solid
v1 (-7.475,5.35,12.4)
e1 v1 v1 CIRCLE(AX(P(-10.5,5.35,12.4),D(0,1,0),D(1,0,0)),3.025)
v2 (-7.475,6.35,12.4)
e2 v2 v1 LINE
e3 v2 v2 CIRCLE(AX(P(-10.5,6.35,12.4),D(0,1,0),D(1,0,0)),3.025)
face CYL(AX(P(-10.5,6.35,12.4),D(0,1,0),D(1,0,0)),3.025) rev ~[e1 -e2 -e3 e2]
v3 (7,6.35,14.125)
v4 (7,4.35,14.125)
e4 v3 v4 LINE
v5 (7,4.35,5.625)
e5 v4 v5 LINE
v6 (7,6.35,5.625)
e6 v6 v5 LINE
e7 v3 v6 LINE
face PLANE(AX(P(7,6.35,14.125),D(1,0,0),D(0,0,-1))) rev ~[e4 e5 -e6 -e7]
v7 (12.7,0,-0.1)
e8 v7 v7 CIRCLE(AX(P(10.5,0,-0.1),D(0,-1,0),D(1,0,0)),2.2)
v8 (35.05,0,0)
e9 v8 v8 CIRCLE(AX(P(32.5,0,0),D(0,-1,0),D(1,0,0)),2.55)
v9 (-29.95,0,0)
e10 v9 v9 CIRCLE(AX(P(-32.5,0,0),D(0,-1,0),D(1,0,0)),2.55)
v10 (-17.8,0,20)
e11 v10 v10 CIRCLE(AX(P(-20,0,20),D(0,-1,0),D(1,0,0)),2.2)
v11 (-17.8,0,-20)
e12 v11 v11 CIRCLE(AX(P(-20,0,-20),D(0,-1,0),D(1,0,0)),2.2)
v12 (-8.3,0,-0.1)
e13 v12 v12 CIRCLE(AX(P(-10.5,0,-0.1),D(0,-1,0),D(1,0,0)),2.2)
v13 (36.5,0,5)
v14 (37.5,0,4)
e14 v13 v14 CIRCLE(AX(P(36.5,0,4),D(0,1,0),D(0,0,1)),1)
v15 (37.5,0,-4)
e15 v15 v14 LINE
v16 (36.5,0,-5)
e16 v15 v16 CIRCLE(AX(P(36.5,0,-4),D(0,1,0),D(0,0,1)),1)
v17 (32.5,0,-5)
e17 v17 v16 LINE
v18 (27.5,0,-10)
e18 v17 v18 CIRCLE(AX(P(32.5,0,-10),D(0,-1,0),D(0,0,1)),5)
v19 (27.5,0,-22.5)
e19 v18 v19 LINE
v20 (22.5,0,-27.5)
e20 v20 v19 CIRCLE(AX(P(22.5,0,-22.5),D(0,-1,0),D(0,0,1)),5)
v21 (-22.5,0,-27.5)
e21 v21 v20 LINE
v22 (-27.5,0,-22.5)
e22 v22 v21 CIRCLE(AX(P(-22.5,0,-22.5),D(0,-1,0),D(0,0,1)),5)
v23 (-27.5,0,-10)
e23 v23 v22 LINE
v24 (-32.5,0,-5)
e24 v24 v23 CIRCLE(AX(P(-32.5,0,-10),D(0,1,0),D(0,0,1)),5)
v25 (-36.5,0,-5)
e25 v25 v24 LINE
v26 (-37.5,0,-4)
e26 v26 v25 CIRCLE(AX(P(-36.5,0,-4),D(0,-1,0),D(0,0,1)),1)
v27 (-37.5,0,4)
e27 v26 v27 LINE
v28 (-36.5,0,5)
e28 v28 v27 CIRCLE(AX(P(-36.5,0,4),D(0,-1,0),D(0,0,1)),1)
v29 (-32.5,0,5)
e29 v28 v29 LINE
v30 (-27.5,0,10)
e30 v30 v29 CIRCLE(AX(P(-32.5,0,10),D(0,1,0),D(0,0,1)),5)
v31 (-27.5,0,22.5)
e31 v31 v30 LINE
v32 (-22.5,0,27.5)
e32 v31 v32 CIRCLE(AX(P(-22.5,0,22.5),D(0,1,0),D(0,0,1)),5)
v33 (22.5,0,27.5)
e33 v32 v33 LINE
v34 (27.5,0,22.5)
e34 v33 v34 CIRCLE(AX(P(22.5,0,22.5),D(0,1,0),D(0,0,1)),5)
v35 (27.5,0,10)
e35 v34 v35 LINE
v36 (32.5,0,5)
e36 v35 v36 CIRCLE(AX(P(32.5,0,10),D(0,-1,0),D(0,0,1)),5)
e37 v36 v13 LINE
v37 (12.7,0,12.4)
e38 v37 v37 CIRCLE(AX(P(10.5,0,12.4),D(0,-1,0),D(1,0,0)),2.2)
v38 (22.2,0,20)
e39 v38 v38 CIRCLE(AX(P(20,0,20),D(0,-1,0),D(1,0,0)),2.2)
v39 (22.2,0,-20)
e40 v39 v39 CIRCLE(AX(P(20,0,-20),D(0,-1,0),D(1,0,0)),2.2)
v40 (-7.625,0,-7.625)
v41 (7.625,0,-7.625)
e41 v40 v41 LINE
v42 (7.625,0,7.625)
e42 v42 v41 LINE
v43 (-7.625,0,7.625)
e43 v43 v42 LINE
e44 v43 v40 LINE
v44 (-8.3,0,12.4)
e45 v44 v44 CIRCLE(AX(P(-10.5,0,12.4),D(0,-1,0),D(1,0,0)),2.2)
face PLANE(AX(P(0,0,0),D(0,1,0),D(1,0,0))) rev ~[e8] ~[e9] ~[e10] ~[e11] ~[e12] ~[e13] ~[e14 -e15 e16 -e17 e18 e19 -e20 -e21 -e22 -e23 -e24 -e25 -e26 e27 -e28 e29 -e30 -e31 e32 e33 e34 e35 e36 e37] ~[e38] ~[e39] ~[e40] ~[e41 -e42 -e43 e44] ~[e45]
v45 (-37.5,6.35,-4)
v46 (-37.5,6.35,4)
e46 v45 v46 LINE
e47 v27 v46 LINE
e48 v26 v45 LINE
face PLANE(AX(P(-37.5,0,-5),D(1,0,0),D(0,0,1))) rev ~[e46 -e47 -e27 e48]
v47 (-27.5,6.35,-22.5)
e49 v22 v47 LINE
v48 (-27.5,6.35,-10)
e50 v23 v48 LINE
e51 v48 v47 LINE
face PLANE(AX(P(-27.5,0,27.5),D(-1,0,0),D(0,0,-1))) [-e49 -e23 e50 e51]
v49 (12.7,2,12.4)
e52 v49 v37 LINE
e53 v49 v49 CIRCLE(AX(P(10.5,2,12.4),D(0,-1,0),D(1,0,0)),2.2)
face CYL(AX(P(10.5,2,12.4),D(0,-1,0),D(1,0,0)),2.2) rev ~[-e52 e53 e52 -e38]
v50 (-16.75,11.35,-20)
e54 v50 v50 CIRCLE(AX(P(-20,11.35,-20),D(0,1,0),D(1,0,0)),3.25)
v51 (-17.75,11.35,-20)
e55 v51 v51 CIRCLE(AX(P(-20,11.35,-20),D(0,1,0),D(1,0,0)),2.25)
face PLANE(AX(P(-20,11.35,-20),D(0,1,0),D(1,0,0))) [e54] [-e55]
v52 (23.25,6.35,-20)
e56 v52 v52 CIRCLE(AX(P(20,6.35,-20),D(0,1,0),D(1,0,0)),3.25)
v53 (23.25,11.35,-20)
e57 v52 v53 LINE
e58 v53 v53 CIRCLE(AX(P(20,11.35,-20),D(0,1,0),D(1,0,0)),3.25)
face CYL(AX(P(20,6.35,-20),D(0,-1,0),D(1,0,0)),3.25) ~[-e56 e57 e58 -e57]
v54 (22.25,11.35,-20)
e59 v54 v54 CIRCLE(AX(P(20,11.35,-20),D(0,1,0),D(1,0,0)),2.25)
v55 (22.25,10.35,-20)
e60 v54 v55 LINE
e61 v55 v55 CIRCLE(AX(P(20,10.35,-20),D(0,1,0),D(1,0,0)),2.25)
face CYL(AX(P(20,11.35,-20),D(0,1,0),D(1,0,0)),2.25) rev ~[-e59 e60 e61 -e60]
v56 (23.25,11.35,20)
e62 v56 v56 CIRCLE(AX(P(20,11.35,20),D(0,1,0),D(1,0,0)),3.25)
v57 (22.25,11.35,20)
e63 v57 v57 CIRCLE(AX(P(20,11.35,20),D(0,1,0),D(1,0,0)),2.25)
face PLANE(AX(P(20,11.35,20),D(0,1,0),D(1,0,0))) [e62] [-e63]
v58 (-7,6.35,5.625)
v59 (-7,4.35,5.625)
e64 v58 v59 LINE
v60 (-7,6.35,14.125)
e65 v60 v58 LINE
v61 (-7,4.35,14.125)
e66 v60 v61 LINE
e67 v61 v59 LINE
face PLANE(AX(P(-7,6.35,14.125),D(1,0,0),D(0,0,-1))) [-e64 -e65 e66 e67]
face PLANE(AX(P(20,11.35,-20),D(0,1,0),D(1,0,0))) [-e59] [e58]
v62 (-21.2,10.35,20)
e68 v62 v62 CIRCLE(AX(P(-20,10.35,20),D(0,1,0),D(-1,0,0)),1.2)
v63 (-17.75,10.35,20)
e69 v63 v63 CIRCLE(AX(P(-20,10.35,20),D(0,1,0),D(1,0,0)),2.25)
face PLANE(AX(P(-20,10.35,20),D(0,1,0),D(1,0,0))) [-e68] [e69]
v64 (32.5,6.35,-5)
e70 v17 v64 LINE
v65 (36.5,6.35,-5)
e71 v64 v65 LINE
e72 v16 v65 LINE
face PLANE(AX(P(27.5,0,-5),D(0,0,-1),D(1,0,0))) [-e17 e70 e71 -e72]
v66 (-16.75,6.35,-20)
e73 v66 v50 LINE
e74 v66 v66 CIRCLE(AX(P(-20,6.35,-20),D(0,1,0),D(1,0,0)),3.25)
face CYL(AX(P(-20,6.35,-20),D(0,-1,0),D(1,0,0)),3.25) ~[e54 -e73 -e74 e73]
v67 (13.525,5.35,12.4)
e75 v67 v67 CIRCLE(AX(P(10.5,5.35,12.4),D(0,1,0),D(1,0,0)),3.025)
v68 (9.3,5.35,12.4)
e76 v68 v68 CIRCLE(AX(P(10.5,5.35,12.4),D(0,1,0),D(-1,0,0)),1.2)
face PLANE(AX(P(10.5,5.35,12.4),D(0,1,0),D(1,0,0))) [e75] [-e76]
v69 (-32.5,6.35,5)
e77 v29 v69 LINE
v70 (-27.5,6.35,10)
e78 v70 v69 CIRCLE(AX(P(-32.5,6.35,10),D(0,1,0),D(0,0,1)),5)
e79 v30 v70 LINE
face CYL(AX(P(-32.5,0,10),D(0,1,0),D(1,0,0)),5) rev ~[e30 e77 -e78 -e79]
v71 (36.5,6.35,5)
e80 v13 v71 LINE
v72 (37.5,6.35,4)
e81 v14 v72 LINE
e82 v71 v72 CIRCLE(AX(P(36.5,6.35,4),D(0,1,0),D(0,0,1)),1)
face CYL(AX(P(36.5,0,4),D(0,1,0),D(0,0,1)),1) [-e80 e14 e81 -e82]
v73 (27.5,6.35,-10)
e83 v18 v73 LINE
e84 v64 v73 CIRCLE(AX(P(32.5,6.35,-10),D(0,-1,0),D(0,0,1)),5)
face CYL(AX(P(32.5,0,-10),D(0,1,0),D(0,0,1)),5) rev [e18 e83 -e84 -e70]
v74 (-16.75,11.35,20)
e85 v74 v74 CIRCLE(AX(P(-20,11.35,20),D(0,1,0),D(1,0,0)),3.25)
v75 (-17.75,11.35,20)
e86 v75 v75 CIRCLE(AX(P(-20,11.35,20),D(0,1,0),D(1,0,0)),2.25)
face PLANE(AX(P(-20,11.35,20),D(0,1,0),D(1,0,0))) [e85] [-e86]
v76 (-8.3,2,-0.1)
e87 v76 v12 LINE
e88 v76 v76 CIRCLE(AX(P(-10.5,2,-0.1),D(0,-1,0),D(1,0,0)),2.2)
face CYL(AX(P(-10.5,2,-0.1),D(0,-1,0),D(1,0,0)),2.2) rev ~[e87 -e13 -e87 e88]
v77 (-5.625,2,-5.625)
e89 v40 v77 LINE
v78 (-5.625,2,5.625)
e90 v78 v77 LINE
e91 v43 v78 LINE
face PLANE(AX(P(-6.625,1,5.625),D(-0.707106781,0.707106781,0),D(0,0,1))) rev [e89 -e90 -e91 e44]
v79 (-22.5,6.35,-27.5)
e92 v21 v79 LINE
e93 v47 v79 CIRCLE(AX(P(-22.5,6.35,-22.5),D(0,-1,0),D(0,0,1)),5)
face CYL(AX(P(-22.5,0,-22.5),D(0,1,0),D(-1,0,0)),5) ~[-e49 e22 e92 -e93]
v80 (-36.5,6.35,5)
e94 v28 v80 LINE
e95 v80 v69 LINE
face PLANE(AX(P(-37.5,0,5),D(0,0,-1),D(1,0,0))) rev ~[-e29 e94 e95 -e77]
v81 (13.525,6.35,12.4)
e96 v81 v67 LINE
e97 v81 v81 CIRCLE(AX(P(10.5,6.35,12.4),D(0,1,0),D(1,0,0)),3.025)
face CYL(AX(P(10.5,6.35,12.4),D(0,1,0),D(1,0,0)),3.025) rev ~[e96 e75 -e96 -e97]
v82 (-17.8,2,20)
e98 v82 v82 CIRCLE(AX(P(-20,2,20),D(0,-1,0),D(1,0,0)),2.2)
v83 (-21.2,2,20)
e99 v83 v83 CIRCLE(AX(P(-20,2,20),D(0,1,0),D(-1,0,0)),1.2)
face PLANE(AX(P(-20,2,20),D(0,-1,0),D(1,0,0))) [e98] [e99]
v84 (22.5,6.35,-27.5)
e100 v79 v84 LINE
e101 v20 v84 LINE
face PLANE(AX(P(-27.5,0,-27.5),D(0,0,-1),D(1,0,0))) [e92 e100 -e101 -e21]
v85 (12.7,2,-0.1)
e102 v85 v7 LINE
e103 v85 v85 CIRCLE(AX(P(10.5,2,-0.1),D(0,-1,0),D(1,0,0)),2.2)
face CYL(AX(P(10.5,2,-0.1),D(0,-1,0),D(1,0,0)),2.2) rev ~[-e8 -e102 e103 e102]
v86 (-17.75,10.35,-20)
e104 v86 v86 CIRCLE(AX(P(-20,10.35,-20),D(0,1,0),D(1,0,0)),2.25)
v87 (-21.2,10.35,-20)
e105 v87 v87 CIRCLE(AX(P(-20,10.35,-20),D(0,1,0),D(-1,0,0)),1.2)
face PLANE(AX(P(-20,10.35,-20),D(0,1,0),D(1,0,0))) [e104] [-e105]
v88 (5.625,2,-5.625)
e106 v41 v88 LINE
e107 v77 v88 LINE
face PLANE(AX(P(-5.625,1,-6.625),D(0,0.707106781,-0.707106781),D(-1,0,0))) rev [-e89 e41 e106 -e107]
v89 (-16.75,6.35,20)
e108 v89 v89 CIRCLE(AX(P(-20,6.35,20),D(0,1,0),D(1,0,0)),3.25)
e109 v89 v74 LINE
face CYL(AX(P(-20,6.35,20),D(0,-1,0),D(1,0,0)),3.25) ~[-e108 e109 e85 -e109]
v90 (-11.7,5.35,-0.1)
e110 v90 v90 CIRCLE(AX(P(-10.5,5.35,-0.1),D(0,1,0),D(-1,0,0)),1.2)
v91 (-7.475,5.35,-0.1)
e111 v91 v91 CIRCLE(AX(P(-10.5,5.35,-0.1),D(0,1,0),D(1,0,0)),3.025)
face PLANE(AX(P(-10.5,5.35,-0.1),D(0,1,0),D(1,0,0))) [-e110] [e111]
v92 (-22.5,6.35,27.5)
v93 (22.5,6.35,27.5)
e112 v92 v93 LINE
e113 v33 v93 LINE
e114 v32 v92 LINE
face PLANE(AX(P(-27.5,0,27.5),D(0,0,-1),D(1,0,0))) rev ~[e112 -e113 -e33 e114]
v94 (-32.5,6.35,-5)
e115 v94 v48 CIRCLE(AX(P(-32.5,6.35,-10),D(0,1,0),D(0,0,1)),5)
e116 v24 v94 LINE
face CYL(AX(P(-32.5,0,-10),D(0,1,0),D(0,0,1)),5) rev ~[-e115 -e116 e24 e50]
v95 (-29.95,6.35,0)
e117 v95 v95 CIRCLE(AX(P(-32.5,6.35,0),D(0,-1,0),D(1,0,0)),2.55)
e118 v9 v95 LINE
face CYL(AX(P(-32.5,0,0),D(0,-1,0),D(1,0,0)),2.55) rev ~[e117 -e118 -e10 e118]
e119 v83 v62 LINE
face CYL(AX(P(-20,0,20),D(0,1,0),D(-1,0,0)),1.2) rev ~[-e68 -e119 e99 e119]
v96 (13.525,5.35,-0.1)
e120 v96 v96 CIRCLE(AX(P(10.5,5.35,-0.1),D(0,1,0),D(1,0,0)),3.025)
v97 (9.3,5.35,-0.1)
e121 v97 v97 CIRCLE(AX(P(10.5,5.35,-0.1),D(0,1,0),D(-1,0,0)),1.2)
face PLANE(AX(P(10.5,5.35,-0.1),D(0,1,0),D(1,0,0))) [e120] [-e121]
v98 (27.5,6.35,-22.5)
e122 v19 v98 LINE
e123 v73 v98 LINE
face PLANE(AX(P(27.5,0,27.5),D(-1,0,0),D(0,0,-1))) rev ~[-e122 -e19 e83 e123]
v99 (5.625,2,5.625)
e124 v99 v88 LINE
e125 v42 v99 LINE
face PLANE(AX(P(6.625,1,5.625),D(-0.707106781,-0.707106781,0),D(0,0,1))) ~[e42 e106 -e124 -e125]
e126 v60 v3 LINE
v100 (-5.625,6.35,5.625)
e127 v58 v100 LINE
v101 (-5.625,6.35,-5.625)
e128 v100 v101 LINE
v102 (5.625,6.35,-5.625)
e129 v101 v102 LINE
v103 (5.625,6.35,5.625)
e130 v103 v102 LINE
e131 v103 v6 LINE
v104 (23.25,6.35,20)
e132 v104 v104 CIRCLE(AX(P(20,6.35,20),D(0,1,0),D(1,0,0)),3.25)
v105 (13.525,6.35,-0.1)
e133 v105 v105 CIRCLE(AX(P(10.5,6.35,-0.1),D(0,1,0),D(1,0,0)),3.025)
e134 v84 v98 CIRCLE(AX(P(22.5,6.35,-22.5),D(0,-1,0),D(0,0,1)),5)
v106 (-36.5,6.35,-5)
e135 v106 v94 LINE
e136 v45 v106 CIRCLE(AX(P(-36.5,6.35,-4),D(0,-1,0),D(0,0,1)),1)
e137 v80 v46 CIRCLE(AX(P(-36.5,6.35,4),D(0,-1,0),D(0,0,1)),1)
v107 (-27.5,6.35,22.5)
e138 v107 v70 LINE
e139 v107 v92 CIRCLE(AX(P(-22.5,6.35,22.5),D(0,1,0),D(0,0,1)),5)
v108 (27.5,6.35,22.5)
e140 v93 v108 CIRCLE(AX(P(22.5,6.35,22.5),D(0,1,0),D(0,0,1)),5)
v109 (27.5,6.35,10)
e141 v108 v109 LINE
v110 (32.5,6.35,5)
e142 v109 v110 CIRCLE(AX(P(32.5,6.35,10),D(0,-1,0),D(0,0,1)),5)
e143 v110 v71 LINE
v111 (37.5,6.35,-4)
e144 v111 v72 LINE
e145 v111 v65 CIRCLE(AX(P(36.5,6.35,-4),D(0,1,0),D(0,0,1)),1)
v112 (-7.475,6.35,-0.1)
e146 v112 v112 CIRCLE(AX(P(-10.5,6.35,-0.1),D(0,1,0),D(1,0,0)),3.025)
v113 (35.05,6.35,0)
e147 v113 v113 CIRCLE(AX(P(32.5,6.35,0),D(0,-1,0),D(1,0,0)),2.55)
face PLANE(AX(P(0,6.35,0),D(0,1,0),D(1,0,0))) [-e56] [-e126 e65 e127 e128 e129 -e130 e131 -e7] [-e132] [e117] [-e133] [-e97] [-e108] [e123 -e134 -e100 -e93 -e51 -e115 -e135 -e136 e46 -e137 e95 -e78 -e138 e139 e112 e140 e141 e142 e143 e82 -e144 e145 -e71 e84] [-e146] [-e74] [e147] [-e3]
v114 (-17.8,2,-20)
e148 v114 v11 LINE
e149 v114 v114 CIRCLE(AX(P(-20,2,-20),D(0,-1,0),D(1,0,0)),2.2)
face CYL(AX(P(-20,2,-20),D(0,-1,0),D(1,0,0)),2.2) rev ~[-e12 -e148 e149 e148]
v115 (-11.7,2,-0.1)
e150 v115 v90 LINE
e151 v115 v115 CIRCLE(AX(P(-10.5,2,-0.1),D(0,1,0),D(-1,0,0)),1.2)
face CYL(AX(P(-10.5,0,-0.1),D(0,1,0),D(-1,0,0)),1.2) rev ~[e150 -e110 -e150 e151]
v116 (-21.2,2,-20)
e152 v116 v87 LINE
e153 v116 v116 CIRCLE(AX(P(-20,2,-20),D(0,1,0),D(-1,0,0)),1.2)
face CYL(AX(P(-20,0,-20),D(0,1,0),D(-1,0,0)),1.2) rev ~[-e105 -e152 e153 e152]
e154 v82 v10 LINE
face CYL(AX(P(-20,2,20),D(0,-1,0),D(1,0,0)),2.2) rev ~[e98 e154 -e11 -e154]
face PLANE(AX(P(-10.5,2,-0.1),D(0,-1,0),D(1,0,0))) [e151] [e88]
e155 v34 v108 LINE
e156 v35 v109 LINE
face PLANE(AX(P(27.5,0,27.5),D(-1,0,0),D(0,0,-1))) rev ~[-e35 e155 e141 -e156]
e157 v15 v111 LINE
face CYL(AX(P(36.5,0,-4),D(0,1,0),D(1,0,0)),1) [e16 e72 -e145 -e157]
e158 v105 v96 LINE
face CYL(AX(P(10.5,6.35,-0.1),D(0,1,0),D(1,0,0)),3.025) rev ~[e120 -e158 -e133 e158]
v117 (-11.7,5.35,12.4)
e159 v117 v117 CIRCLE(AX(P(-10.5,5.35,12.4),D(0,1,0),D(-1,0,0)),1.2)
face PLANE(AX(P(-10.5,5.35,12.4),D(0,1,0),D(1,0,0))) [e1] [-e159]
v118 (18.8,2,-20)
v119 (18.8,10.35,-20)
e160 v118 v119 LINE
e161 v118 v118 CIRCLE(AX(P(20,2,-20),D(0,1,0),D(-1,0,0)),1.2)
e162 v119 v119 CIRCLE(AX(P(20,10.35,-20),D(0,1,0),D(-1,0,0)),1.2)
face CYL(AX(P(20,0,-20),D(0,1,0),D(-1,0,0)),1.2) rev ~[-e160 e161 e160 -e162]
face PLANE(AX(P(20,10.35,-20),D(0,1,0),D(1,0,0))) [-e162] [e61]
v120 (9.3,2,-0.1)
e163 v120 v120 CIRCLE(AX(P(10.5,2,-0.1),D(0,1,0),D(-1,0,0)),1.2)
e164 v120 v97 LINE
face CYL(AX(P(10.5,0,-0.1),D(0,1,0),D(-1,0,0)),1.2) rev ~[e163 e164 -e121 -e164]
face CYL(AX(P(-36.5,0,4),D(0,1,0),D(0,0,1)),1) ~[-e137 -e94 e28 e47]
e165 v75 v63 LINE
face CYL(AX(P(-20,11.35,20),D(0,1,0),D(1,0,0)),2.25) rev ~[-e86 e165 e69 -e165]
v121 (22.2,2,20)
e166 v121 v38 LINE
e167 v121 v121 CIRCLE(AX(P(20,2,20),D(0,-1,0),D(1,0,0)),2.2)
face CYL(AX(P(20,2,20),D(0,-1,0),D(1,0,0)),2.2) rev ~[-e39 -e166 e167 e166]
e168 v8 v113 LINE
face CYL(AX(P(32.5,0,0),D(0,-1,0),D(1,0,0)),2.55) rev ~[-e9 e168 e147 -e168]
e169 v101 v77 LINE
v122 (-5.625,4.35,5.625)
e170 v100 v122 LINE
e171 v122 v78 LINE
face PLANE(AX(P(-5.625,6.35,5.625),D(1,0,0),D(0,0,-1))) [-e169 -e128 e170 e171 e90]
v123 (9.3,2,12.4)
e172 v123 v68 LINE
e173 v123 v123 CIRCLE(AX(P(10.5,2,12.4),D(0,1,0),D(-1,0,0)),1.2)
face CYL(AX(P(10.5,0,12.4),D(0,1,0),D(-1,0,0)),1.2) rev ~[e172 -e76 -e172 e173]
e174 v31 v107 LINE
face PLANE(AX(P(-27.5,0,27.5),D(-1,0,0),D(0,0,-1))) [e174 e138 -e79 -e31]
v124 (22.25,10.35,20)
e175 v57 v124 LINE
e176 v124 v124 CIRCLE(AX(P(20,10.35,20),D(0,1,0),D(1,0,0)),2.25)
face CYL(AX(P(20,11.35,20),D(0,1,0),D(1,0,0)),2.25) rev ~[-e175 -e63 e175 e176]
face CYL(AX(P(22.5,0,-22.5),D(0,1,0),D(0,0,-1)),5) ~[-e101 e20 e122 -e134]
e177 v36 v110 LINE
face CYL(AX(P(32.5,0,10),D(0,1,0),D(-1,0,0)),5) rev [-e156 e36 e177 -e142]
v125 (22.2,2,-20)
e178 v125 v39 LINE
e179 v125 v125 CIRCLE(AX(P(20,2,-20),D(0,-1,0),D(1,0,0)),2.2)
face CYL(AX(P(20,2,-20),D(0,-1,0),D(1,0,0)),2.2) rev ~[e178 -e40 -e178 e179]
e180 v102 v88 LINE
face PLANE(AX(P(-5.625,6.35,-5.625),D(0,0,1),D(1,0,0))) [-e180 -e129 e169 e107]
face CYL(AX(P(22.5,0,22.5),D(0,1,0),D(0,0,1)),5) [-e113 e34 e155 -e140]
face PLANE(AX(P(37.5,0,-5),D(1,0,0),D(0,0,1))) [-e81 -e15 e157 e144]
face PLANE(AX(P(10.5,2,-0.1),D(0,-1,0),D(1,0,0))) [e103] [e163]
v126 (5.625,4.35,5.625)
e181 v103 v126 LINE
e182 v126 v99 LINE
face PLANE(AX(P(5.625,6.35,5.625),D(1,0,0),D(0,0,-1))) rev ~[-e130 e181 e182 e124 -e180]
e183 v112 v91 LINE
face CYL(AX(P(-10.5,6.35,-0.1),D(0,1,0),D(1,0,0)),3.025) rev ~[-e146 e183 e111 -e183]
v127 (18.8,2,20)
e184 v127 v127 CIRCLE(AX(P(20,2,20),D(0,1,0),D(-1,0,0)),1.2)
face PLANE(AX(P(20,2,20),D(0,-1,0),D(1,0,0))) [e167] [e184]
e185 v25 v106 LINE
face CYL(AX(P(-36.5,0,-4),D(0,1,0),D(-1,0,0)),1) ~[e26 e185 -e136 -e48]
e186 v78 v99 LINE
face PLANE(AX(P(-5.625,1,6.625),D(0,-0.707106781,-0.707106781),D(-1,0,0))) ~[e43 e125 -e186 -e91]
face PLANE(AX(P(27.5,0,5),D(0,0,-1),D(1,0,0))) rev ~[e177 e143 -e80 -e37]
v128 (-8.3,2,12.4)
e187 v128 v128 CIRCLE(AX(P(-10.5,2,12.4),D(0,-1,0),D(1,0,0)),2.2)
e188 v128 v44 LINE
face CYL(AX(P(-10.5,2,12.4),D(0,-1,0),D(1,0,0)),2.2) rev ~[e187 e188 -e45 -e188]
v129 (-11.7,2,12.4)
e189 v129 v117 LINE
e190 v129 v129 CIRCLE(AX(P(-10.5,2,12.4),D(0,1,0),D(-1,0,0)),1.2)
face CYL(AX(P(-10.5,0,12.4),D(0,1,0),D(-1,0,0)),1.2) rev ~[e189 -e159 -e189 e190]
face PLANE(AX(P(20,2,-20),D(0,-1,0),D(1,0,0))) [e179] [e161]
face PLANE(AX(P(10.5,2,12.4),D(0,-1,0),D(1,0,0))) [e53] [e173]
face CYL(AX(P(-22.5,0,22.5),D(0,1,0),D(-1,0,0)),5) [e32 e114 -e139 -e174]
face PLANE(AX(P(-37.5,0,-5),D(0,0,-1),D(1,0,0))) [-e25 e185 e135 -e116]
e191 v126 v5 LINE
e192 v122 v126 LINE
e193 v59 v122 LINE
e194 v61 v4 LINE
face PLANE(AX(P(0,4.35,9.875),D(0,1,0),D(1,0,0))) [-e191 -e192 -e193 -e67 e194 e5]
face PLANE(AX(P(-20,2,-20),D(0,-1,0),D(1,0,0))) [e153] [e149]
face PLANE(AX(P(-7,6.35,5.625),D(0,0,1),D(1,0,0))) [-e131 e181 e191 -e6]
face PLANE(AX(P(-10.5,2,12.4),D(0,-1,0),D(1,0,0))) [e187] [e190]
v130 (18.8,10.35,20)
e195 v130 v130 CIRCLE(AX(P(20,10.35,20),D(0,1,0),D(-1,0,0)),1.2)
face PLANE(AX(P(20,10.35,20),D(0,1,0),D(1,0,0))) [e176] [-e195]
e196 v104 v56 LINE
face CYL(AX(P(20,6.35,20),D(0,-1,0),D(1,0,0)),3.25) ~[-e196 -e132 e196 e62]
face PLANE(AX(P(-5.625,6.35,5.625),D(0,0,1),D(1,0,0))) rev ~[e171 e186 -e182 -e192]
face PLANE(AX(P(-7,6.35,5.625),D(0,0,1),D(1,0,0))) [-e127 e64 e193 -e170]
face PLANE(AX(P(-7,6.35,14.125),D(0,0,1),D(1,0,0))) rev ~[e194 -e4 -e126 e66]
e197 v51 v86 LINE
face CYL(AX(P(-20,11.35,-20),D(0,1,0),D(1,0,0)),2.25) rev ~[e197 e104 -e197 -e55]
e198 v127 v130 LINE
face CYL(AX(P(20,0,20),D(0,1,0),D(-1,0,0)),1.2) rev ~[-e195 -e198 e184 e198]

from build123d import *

# Parameters (mm, degrees)
SKETCH1_W                      = 55
SKETCH1_H                      = 55
BOSS_EXTRUDE1_DEPTH            = 6.35
SKETCH2_W                      = 11.25
SKETCH2_H                      = 11.25
CUT_EXTRUDE1_DEPTH             = 7.35
SKETCH3_W                      = 14
SKETCH3_H                      = 8.5
CUT_EXTRUDE2_DEPTH             = 2
CBORE_FOR_M2_SHCS2_D           = 2.4
CBORE_FOR_M2_SHCS2_DEPTH       = 6.35
CBORE_FOR_M2_SHCS2_CBORE_D     = 4.4
CBORE_FOR_M2_SHCS2_CBORE_DEPTH = 2
SKETCH6_R                      = 3.25
BOSS_EXTRUDE2_DEPTH            = 5
CBORE_FOR_M2_SHCS1_D           = 2.4
CBORE_FOR_M2_SHCS1_CBORE_D     = 4.4
CBORE_FOR_M2_SHCS1_CBORE_DEPTH = 2
SKETCH13_R                     = 3.025
CUT_EXTRUDE4_DEPTH             = 1
CHAMFER1_SIZE                  = 2
SKETCH16_W                     = 10
SKETCH16_H                     = 10
BOSS_EXTRUDE3_DEPTH            = 6.35
SKETCH17_R                     = 2.55
CUT_EXTRUDE6_DEPTH             = 12.35
FILLET1_R                      = 5
FILLET2_R                      = 1
SKETCH18_R                     = 2.25
CUT_EXTRUDE7_DEPTH             = 1


with BuildPart() as part:
    # Sketch1 → Boss-Extrude1 (new body)
    with BuildSketch(Plane(origin=(0, 0, 0), x_dir=(1, 0, 0), z_dir=(0, 1, 0))):
        Rectangle(SKETCH1_W, SKETCH1_H)
    extrude(amount=BOSS_EXTRUDE1_DEPTH)

    # Sketch2 → Cut-Extrude1 (cut, through all)
    with BuildSketch(Plane(origin=(0, 6.35, 0), x_dir=(1, 0, 0), z_dir=(0, 1, 0))):
        Rectangle(SKETCH2_W, SKETCH2_H)
    extrude(amount=-CUT_EXTRUDE1_DEPTH, mode=Mode.SUBTRACT)

    # Sketch3 → Cut-Extrude2 (cut)
    with BuildSketch(Plane(origin=(0, 6.35, 0), x_dir=(1, 0, 0), z_dir=(0, 1, 0))):
        with Locations((0, -9.875)):
            Rectangle(SKETCH3_W, SKETCH3_H)
    extrude(amount=-CUT_EXTRUDE2_DEPTH, mode=Mode.SUBTRACT)

    # CBORE for M2 SHCS2
    with Locations(Plane.XZ):
        with Locations((10.5, -0.1), (10.5, 12.4), (-10.5, 12.4), (-10.5, -0.1)):
            CounterBoreHole(CBORE_FOR_M2_SHCS2_D / 2, CBORE_FOR_M2_SHCS2_CBORE_D / 2, CBORE_FOR_M2_SHCS2_CBORE_DEPTH, depth=CBORE_FOR_M2_SHCS2_DEPTH)

    # Sketch6 → Boss-Extrude2 (add)
    with BuildSketch(Plane(origin=(0, 6.35, 0), x_dir=(1, 0, 0), z_dir=(0, 1, 0))):
        with Locations((-20, 20)):
            Circle(SKETCH6_R)
        with Locations((20, 20)):
            Circle(SKETCH6_R)
        with Locations((20, -20)):
            Circle(SKETCH6_R)
        with Locations((-20, -20)):
            Circle(SKETCH6_R)
    extrude(amount=BOSS_EXTRUDE2_DEPTH)

    # CBORE for M2 SHCS1 (through all)
    with Locations(Plane.XZ):
        with Locations((-20, -20), (-20, 20), (20, 20), (20, -20)):
            CounterBoreHole(CBORE_FOR_M2_SHCS1_D / 2, CBORE_FOR_M2_SHCS1_CBORE_D / 2, CBORE_FOR_M2_SHCS1_CBORE_DEPTH)

    # Sketch13 → Cut-Extrude4 (cut)
    with BuildSketch(Plane(origin=(0, 6.35, 0), x_dir=(1, 0, 0), z_dir=(0, 1, 0))):
        with Locations((-10.5, -12.4)):
            Circle(SKETCH13_R)
        with Locations((-10.5, 0.1)):
            Circle(SKETCH13_R)
        with Locations((10.5, -12.4)):
            Circle(SKETCH13_R)
        with Locations((10.5, 0.1)):
            Circle(SKETCH13_R)
    extrude(amount=-CUT_EXTRUDE4_DEPTH, mode=Mode.SUBTRACT)

    # Chamfer1
    chamfer1_edges = [part.edges().sort_by_distance(p)[0] for p in [
        (5.625, 0, 0),
        (0, 0, 5.625),
        (-5.625, 0, 0),
        (0, 0, -5.625),
    ]]
    chamfer(chamfer1_edges, length=CHAMFER1_SIZE)

    # Sketch16 → Boss-Extrude3 (add)
    with BuildSketch(Plane.XZ):
        with Locations((32.5, 0)):
            Rectangle(SKETCH16_W, SKETCH16_H)
        with Locations((-32.5, 0)):
            Rectangle(SKETCH16_W, SKETCH16_H)
    extrude(amount=-BOSS_EXTRUDE3_DEPTH)

    # Sketch17 → Cut-Extrude6 (cut, through all)
    with BuildSketch(Plane.XZ):
        with Locations((32.5, 0)):
            Circle(SKETCH17_R)
        with Locations((-32.5, 0)):
            Circle(SKETCH17_R)
    extrude(amount=-CUT_EXTRUDE6_DEPTH, mode=Mode.SUBTRACT)

    # Fillet1
    fillet1_edges = [part.edges().sort_by_distance(p)[0] for p in [
        (27.5, 3.175, 5),
        (27.5, 3.175, -5),
        (-27.5, 3.175, -5),
        (-27.5, 3.175, 5),
        (27.5, 3.175, 27.5),
        (-27.5, 3.175, 27.5),
        (-27.5, 3.175, -27.5),
        (27.5, 3.175, -27.5),
    ]]
    fillet(fillet1_edges, radius=FILLET1_R)

    # Fillet2
    fillet2_edges = [part.edges().sort_by_distance(p)[0] for p in [
        (37.5, 3.175, -5),
        (37.5, 3.175, 5),
        (-37.5, 3.175, 5),
        (-37.5, 3.175, -5),
    ]]
    fillet(fillet2_edges, radius=FILLET2_R)

    # Sketch18 → Cut-Extrude7 (cut)
    with BuildSketch(Plane(origin=(0, 11.35, 0), x_dir=(1, 0, 0), z_dir=(0, 1, 0))):
        with Locations((-20, 20)):
            Circle(SKETCH18_R)
        with Locations((-20, -20)):
            Circle(SKETCH18_R)
        with Locations((20, 20)):
            Circle(SKETCH18_R)
        with Locations((20, -20)):
            Circle(SKETCH18_R)
    extrude(amount=-CUT_EXTRUDE7_DEPTH, mode=Mode.SUBTRACT)


solid = part.part
